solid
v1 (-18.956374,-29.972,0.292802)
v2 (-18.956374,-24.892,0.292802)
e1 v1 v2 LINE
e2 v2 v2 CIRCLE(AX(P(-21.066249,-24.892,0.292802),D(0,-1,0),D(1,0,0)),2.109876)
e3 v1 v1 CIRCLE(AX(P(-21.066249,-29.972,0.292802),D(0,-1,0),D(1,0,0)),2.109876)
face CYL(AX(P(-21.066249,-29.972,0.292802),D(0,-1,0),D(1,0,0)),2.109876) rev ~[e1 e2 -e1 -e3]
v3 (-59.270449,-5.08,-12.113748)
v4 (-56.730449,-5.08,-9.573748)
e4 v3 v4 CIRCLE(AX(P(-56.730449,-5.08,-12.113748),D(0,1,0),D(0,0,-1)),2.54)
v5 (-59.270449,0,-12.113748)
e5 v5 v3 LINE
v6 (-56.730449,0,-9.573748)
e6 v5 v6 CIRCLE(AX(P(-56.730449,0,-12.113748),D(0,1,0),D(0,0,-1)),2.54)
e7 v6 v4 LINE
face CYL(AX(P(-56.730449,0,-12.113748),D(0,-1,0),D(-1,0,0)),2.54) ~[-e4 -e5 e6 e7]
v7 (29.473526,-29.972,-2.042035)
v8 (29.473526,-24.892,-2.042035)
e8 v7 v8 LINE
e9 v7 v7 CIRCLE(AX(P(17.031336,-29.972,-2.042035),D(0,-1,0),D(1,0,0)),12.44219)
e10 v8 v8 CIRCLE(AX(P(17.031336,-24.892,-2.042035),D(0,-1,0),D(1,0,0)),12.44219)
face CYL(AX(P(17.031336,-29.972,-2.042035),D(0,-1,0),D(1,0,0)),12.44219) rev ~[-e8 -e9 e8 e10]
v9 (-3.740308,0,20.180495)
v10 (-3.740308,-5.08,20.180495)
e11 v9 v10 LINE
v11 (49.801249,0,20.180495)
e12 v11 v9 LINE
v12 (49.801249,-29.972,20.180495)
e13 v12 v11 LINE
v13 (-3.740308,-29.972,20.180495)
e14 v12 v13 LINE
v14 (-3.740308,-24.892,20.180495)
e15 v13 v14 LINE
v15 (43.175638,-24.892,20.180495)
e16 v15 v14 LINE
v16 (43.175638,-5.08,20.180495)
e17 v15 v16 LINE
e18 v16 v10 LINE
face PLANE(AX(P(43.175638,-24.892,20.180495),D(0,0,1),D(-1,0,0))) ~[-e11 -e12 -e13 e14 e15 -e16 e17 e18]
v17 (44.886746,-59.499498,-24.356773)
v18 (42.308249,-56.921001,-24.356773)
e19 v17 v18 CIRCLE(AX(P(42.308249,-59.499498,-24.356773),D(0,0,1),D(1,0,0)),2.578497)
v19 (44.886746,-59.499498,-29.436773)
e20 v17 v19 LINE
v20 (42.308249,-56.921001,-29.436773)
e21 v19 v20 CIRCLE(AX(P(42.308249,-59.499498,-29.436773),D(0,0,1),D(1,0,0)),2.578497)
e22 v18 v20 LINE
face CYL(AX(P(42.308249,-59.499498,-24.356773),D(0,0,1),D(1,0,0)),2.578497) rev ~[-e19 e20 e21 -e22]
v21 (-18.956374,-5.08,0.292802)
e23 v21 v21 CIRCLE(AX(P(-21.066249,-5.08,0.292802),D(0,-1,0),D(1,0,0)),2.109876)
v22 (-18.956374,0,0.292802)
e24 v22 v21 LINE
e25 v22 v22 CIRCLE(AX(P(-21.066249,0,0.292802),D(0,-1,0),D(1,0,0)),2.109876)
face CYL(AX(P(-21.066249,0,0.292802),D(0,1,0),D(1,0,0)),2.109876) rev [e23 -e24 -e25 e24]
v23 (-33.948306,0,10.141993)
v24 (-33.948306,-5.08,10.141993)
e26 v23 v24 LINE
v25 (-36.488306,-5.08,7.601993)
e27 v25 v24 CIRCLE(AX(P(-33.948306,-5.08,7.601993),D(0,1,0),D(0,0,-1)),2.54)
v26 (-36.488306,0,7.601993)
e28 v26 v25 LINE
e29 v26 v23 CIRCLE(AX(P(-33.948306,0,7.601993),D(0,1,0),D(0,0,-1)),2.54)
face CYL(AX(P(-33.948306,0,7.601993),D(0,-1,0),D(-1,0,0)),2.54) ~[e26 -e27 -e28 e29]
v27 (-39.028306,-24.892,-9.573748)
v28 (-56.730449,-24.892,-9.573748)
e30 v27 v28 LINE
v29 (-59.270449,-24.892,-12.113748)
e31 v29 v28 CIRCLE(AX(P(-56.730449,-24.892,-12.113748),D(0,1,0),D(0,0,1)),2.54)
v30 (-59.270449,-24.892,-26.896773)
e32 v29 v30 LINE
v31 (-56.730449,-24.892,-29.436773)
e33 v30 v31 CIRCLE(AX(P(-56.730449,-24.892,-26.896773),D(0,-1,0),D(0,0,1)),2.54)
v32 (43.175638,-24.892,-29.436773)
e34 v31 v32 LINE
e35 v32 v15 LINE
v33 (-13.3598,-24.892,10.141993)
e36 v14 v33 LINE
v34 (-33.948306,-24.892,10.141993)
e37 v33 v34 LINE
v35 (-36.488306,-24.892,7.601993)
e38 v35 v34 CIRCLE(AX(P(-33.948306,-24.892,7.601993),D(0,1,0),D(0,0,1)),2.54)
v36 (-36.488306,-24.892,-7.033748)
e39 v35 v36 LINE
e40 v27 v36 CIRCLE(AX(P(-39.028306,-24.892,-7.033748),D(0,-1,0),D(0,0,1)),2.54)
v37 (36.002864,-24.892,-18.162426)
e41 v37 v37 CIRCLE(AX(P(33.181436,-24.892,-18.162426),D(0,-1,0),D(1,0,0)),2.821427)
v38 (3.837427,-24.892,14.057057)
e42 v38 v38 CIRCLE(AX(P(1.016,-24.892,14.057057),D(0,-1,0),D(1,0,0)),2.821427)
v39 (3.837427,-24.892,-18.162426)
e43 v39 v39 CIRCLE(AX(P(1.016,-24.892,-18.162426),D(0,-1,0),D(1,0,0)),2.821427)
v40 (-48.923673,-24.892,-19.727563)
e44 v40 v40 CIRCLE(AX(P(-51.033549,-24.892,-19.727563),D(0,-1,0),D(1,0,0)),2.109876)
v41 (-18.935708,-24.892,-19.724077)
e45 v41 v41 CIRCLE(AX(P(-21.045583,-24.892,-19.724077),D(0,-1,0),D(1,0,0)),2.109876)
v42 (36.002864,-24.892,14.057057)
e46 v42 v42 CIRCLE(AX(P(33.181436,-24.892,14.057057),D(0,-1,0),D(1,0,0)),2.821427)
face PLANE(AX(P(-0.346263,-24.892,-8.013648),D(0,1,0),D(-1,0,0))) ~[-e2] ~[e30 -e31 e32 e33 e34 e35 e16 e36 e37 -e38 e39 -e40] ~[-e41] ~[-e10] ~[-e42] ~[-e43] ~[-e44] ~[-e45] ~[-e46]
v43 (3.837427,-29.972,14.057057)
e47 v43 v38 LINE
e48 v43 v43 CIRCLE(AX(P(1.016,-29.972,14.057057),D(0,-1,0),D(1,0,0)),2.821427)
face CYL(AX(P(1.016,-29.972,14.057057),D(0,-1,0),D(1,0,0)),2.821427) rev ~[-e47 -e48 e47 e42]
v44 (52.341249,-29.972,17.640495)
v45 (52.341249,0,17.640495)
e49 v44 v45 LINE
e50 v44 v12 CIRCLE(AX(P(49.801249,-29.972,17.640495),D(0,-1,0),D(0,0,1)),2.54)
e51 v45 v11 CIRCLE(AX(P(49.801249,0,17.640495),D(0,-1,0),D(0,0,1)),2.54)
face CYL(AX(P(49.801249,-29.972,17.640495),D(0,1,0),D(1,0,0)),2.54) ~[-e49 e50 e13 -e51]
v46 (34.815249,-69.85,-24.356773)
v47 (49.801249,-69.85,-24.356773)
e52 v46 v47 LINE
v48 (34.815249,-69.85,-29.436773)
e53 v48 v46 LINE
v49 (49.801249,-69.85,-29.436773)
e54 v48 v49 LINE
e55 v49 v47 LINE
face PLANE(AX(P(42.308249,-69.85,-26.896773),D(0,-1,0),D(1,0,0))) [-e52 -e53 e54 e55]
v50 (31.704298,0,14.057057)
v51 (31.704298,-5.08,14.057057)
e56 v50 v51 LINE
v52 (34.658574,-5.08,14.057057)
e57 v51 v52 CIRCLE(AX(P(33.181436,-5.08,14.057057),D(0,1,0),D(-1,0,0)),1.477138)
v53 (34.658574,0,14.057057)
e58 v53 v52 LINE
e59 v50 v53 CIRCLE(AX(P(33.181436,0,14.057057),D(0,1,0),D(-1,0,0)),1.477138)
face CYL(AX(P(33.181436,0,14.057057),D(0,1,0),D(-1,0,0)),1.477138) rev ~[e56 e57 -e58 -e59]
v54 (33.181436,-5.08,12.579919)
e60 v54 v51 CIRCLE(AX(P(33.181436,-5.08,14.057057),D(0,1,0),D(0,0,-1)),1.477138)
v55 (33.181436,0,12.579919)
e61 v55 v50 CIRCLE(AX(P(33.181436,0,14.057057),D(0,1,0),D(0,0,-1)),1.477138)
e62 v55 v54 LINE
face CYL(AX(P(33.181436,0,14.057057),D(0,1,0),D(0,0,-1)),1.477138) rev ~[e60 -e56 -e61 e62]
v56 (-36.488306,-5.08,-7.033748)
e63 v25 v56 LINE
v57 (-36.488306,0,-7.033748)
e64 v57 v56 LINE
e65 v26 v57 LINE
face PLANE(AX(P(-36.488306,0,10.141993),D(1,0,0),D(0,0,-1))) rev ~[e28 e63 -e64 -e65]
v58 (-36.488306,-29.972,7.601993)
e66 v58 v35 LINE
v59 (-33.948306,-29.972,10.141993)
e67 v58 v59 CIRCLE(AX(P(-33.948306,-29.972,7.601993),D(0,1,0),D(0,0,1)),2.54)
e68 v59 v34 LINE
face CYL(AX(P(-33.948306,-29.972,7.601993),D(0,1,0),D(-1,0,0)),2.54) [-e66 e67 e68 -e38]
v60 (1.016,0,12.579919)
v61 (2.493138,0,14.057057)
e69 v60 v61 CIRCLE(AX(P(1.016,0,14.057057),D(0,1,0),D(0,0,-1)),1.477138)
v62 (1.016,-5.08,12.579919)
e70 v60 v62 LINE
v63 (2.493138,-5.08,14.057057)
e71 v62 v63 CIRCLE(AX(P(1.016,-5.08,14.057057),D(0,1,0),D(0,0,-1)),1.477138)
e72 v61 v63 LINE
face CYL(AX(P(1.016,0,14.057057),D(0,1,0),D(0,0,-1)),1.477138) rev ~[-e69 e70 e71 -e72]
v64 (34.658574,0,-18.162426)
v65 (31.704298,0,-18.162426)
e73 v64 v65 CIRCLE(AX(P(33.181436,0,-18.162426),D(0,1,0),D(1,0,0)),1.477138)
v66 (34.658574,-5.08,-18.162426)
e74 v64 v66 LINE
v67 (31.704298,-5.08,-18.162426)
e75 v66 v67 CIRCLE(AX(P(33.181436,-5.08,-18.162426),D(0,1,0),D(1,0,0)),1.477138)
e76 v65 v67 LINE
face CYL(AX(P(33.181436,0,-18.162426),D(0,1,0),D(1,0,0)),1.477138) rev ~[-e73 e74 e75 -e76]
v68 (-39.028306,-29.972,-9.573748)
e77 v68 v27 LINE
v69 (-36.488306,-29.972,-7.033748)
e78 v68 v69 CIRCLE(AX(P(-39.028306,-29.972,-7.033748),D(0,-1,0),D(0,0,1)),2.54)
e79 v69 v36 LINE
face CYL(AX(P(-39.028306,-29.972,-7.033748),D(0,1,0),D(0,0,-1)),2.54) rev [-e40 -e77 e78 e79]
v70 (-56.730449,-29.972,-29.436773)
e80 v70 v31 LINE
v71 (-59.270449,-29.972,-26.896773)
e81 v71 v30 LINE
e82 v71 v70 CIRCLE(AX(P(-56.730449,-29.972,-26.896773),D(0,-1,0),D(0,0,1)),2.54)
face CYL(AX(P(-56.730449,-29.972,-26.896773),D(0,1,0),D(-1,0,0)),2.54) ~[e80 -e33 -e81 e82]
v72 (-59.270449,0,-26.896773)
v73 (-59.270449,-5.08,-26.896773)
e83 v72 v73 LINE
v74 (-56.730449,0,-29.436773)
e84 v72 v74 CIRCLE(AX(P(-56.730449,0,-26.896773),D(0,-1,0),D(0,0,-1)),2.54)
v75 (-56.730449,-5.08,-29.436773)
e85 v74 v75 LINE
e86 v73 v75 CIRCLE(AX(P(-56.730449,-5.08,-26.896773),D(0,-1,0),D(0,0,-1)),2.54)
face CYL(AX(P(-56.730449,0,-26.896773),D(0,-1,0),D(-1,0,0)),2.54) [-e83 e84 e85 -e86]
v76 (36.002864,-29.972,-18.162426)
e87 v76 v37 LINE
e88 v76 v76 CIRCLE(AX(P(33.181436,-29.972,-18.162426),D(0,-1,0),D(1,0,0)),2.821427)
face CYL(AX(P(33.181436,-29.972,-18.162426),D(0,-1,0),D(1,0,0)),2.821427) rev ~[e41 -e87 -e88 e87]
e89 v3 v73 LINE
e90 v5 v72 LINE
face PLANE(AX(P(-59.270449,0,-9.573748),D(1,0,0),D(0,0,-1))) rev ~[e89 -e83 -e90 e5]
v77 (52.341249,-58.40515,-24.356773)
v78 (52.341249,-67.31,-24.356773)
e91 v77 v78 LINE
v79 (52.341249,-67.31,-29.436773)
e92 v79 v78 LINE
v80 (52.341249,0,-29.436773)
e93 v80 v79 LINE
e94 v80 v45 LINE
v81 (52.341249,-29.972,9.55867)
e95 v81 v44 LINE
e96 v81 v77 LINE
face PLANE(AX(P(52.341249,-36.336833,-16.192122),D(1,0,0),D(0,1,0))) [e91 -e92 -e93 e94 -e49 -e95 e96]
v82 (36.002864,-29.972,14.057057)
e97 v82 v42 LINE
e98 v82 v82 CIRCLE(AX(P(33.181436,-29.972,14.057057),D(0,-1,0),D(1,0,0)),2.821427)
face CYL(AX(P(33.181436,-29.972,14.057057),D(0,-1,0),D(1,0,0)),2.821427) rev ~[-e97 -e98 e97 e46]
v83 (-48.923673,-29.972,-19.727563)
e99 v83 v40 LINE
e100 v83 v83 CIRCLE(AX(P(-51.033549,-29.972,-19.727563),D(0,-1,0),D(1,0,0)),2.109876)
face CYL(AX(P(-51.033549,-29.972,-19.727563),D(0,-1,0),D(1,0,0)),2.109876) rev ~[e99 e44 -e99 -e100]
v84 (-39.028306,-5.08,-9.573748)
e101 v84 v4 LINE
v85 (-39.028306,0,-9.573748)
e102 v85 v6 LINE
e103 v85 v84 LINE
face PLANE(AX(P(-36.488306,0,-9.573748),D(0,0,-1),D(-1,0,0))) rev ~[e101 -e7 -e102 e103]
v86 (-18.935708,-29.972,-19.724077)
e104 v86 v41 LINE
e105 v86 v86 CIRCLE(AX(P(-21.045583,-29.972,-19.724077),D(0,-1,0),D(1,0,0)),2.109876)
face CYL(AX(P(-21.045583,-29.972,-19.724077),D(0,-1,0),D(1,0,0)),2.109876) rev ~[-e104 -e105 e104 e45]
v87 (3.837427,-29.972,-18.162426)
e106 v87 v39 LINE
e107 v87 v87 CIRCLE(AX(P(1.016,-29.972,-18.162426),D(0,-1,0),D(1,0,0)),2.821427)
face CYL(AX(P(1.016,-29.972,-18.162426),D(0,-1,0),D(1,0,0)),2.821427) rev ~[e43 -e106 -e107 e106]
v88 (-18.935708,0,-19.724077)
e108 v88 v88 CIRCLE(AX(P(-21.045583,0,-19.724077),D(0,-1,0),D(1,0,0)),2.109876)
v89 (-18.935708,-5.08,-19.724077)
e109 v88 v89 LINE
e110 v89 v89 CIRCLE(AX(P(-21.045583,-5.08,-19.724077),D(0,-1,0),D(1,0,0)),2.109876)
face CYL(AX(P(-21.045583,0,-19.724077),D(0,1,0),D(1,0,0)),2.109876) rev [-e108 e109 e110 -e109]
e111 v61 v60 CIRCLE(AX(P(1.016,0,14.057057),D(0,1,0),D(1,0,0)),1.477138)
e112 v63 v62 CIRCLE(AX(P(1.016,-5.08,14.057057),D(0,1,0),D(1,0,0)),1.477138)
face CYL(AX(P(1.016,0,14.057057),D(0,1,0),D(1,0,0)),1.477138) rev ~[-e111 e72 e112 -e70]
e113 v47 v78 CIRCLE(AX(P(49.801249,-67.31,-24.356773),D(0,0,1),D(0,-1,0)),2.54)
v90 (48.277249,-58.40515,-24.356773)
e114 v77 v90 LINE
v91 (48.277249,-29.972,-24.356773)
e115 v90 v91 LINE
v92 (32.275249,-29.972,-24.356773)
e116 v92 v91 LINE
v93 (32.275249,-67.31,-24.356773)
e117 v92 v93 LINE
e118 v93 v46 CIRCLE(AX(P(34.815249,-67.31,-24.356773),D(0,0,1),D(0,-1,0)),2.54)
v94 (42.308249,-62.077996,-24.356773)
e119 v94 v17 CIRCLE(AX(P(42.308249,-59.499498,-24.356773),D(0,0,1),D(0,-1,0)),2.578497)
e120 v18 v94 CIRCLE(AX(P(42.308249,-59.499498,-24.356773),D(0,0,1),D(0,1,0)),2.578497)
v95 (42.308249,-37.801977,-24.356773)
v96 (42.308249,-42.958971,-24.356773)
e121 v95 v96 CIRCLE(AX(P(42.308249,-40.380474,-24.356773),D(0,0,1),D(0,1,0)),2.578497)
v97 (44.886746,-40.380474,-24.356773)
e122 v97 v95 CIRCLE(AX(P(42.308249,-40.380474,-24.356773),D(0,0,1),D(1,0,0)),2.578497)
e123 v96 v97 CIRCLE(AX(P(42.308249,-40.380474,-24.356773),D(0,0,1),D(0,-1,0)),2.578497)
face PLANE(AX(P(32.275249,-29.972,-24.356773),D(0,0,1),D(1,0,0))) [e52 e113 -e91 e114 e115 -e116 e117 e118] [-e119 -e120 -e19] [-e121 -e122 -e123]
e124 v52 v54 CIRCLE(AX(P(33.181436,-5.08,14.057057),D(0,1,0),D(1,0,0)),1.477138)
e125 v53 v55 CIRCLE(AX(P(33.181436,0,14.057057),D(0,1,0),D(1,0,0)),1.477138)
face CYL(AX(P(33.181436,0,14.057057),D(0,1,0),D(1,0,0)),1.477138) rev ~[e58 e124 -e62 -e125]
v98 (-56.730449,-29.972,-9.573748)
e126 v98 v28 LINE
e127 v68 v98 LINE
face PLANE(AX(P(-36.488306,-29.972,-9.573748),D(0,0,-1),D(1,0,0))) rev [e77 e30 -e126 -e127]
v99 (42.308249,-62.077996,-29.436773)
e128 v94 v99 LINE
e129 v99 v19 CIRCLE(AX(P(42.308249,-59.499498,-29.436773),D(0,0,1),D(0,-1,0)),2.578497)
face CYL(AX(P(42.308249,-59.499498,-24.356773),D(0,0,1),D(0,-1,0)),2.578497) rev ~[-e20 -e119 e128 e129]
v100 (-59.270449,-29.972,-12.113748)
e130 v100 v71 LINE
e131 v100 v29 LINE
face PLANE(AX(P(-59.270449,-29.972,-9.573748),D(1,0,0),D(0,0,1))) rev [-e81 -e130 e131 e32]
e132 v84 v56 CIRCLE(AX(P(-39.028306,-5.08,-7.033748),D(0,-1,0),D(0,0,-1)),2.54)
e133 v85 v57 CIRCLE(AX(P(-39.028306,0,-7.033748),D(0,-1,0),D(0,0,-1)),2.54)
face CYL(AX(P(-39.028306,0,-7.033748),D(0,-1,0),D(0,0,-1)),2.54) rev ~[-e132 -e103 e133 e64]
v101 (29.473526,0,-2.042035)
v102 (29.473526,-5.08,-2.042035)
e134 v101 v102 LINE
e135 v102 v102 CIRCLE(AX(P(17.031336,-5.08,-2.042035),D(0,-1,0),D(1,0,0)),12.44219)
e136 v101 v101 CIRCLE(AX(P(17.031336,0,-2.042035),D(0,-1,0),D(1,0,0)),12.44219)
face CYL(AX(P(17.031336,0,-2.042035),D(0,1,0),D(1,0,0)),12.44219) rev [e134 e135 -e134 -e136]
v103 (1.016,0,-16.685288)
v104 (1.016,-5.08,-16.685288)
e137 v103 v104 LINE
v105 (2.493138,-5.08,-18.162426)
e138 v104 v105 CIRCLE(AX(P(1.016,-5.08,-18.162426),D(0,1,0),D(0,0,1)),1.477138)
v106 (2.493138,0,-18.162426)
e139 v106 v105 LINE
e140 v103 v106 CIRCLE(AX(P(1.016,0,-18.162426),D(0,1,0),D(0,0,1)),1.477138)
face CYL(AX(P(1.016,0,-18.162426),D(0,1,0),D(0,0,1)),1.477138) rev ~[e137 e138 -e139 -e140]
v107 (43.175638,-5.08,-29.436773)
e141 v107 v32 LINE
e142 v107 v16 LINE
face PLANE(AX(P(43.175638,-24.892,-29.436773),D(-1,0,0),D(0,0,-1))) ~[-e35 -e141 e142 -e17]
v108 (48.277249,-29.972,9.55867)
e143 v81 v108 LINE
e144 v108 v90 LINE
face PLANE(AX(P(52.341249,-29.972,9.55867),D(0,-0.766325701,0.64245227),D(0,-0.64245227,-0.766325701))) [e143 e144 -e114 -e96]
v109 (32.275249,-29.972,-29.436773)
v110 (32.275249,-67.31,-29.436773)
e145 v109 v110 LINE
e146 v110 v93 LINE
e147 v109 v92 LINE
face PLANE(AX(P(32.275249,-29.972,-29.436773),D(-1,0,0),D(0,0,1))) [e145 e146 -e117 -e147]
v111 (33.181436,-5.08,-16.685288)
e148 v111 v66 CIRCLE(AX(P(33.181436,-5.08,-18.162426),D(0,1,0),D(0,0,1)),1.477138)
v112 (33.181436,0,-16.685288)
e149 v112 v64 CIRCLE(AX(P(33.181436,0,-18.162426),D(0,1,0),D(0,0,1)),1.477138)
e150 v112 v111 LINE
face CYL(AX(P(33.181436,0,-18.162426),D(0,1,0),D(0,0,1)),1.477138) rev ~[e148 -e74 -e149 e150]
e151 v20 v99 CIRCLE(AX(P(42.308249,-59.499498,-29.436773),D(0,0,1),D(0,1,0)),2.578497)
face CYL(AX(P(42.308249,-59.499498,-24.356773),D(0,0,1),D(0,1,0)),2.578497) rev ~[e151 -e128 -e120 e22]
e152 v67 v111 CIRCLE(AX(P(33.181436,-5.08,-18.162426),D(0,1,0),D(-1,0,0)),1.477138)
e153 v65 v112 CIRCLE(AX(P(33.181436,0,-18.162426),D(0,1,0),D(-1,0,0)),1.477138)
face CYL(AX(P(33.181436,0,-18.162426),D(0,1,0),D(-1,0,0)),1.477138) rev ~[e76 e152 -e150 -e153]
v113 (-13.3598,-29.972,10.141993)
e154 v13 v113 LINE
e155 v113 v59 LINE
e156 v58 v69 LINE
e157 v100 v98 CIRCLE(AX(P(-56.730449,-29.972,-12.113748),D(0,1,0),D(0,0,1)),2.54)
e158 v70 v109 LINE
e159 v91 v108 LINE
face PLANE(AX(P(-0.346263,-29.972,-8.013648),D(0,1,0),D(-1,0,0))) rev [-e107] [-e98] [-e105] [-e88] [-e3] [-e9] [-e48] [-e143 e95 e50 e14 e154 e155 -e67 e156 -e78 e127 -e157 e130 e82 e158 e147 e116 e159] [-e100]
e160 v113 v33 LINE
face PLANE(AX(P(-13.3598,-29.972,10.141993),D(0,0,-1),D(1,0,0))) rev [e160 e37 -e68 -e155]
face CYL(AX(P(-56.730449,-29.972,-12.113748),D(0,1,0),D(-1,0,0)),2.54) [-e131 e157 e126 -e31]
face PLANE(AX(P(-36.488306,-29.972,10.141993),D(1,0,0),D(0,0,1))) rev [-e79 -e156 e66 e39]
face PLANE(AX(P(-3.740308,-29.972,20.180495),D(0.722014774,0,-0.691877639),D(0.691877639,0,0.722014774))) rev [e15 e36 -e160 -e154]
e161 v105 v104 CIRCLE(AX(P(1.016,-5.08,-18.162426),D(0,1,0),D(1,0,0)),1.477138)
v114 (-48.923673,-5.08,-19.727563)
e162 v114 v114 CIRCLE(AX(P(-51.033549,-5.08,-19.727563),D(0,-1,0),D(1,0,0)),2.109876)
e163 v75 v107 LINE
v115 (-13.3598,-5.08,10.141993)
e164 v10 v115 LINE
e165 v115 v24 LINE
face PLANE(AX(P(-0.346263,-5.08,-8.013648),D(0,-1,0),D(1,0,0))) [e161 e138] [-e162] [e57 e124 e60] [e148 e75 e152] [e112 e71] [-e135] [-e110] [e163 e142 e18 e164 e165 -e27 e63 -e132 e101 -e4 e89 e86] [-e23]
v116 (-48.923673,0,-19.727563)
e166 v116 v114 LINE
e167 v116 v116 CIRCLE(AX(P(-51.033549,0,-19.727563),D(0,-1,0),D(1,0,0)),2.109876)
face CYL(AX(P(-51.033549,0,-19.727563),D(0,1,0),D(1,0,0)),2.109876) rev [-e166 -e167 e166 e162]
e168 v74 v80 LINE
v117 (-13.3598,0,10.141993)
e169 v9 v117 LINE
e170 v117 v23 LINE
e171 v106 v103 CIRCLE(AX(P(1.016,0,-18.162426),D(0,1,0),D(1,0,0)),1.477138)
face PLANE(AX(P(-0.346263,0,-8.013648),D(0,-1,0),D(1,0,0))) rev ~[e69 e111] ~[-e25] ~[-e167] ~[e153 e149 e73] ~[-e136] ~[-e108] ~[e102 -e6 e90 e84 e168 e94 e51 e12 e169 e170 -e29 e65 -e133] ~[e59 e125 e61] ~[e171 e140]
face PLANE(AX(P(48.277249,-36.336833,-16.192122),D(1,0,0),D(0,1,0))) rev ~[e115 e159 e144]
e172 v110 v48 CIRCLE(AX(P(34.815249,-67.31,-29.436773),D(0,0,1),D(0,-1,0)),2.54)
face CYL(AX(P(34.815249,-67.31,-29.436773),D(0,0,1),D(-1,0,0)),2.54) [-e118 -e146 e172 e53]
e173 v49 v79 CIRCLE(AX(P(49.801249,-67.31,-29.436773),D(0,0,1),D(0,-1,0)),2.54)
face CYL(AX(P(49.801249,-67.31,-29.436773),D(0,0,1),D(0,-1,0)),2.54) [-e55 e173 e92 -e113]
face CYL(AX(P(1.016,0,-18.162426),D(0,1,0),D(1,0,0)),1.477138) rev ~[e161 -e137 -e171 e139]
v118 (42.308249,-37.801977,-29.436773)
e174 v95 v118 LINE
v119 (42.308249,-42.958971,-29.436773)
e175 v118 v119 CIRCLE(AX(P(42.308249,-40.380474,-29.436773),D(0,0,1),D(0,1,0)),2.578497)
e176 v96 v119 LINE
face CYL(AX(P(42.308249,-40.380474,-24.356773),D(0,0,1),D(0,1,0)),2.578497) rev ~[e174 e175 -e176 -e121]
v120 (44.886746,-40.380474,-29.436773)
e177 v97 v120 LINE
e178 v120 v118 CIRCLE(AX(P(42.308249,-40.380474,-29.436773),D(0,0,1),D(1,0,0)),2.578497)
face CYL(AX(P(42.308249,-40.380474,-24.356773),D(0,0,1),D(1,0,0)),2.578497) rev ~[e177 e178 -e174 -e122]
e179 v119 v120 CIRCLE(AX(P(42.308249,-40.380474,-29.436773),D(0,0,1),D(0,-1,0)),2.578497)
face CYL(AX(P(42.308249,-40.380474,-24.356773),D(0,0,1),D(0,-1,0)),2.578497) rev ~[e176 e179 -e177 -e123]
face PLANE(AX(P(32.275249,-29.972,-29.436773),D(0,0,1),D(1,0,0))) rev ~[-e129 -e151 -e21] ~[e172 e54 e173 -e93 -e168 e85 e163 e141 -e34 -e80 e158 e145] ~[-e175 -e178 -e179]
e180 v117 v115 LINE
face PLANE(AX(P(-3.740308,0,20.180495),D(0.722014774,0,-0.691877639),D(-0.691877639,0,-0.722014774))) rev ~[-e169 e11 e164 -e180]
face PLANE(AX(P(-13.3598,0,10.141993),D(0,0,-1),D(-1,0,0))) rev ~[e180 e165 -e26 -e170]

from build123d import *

# Parameters (mm, degrees)
F0_R      = 2.1098755339
F0_R_2    = 12.4421900961
F1_DEPTH  = 5.08
F2_W      = 9.1656111181
F2_H      = 49.6172681451
F3_DEPTH  = 9.906
F6_W      = 20.066
F6_H      = 5.08
F7_DEPTH  = 39.878
F8_R      = 2.8214274278
F9_DEPTH  = 20.066
F10_R     = 2.54
F12_DEPTH = 4.064
F14_DEPTH = 25.4
F15_R     = 2.54


with BuildPart() as f1:
    # F0 (on Front) → F1 (new body)
    with BuildSketch(Plane.XZ):
        Polygon((-13.3598004468, 10.1419929415), (-36.4883057773, 10.1419929415), (-36.4883057773, -9.5737483352), (-59.2704489827, -9.5737483352), (-59.2704489827, -29.4367726892), (52.3412488401, -29.4367726892), (52.3412488401, 20.1804954559), (-3.7403083406, 20.1804954559), align=None)
        with Locations((-51.0335490108, -19.7275634855)):
            Circle(F0_R, mode=Mode.SUBTRACT)
        with Locations((-21.0455833003, -19.7240766138)):
            Circle(F0_R, mode=Mode.SUBTRACT)
        with Locations((-21.0662493482, 0.2928022295)):
            Circle(F0_R, mode=Mode.SUBTRACT)
        with BuildLine():
            ThreePointArc((1.0160000529, 12.5799188824), (-0.0284943115, 15.1015513428), (2.4931381489, 14.0570569783))
            Line((2.4931381489, 14.0570569783), (31.7042982639, 14.0570569783))
            ThreePointArc((31.7042982639, 14.0570569783), (33.1814363599, 15.5341950743), (34.6585744559, 14.0570569783))
            ThreePointArc((34.6585744559, 14.0570569783), (34.2259307243, 13.0125626139), (33.1814363599, 12.5799188824))
            Line((33.1814363599, 12.5799188824), (33.1814363599, -16.6852875115))
            ThreePointArc((33.1814363599, -16.6852875115), (34.2259307243, -17.117931243), (34.6585744559, -18.1624256074))
            ThreePointArc((34.6585744559, -18.1624256074), (33.1814363599, -19.6395637034), (31.7042982639, -18.1624256074))
            Line((31.7042982639, -18.1624256074), (2.4931381489, -18.1624256074))
            ThreePointArc((2.4931381489, -18.1624256074), (-0.0284943115, -19.2069199719), (1.0160000529, -16.6852875115))
            Line((1.0160000529, -16.6852875115), (1.0160000529, 12.5799188824))
        make_face(mode=Mode.SUBTRACT)
        with BuildLine():
            Line((31.7042982639, 14.0570569783), (2.4931381489, 14.0570569783))
            ThreePointArc((2.4931381489, 14.0570569783), (2.0604944173, 13.0125626139), (1.0160000529, 12.5799188824))
            Line((1.0160000529, 12.5799188824), (1.0160000529, -16.6852875115))
            ThreePointArc((1.0160000529, -16.6852875115), (2.0604944173, -17.117931243), (2.4931381489, -18.1624256074))
            Line((2.4931381489, -18.1624256074), (31.7042982639, -18.1624256074))
            ThreePointArc((31.7042982639, -18.1624256074), (32.1369419955, -17.117931243), (33.1814363599, -16.6852875115))
            Line((33.1814363599, -16.6852875115), (33.1814363599, 12.5799188824))
            ThreePointArc((33.1814363599, 12.5799188824), (32.1369419955, 13.0125626139), (31.7042982639, 14.0570569783))
        make_face()
        with Locations((17.0313362032, -2.0420345245)):
            Circle(F0_R_2, mode=Mode.SUBTRACT)
    extrude(amount=F1_DEPTH)

    # F2 (on face) → F3 (join)
    with BuildSketch(Plane.XZ.offset(5.08)):
        with Locations((47.7584432811, -4.6281386167)):
            Rectangle(F2_W, F2_H)
    extrude(amount=F3_DEPTH)

    # F5: F1 across plane


with BuildPart() as f1_1:
    add(f1.part)
    add(f1.part.mirror(Plane(origin=(47.7584432811, -14.986, -4.6281386167), x_dir=(1, 0, 0), z_dir=(0, -1, 0))))

    # F6 (on face) → F7 (join)
    with BuildSketch(Plane.XZ.offset(29.972)):
        with Locations((42.3082488401, -26.8967726892)):
            Rectangle(F6_W, F6_H)
    extrude(amount=F7_DEPTH)

    # F8 (on face) → F9 (cut)
    with BuildSketch(Plane.XZ.offset(29.972)):
        with Locations((1.0160000529, 14.0570569783)):
            Circle(F8_R)
        with Locations((1.0160000529, -18.1624256074)):
            Circle(F8_R)
        with Locations((33.1814363599, -18.1624256074)):
            Circle(F8_R)
        with Locations((33.1814363599, 14.0570569783)):
            Circle(F8_R)
    extrude(amount=-F9_DEPTH, mode=Mode.SUBTRACT)

    # F10
    f10_edges = [f1_1.edges().sort_by_distance(p)[0] for p in [
        (-59.270449, -2.54, -9.573748),
        (-59.270449, -27.432, -9.573748),
        (-36.488306, -2.54, -9.573748),
        (-36.488306, -2.54, 10.141993),
        (-36.488306, -27.432, 10.141993),
        (-36.488306, -27.432, -9.573748),
        (-59.270449, -2.54, -29.436773),
        (-59.270449, -27.432, -29.436773),
        (32.275249, -69.85, -26.896773),
        (52.341249, -69.85, -26.896773),
    ]]
    fillet(f10_edges, radius=F10_R)

    # F11 (on face) → F12 (join)
    with BuildSketch(Plane.YZ.offset(52.3412488401)):
        Polygon((-29.972, -2.0881386167), (-48.641, -24.3567726892), (-29.972, -24.3567726892), align=None)
        Polygon((-58.4051497281, -24.3567726892), (-48.641, -24.3567726892), (-29.972, -2.0881386167), (-29.972, 9.5586703888), align=None)
    extrude(amount=-F12_DEPTH)

    # F13 (on face) → F14 (cut)
    with BuildSketch(Plane.XY.offset(-24.3567726892)):
        with BuildLine():
            ThreePointArc((42.3082488401, -56.9210011754), (39.7297515588, -59.4994984567), (42.3082488401, -62.077995738))
            Line((42.3082488401, -62.077995738), (42.3082488401, -56.9210011754))
        make_face()
        with BuildLine():
            ThreePointArc((42.3082488401, -37.8019768987), (39.7297515588, -40.38047418), (42.3082488401, -42.9589714613))
            Line((42.3082488401, -42.9589714613), (42.3082488401, -37.8019768987))
        make_face()
        with BuildLine():
            Line((42.3082488401, -37.8019768987), (42.3082488401, -42.9589714613))
            ThreePointArc((42.3082488401, -42.9589714613), (44.131521753, -42.2037470929), (44.8867461214, -40.38047418))
            ThreePointArc((44.8867461214, -40.38047418), (44.131521753, -38.5572012671), (42.3082488401, -37.8019768987))
        make_face()
        with BuildLine():
            Line((42.3082488401, -56.9210011754), (42.3082488401, -62.077995738))
            ThreePointArc((42.3082488401, -62.077995738), (44.131521753, -61.3227713696), (44.8867461214, -59.4994984567))
            ThreePointArc((44.8867461214, -59.4994984567), (44.131521753, -57.6762255438), (42.3082488401, -56.9210011754))
        make_face()
    extrude(amount=-F14_DEPTH, mode=Mode.SUBTRACT)

    # F15
    f15_edges = [f1_1.edges().sort_by_distance(p)[0] for p in [
        (52.341249, -14.986, 20.180495),
    ]]
    fillet(f15_edges, radius=F15_R)


solid = f1_1.part
